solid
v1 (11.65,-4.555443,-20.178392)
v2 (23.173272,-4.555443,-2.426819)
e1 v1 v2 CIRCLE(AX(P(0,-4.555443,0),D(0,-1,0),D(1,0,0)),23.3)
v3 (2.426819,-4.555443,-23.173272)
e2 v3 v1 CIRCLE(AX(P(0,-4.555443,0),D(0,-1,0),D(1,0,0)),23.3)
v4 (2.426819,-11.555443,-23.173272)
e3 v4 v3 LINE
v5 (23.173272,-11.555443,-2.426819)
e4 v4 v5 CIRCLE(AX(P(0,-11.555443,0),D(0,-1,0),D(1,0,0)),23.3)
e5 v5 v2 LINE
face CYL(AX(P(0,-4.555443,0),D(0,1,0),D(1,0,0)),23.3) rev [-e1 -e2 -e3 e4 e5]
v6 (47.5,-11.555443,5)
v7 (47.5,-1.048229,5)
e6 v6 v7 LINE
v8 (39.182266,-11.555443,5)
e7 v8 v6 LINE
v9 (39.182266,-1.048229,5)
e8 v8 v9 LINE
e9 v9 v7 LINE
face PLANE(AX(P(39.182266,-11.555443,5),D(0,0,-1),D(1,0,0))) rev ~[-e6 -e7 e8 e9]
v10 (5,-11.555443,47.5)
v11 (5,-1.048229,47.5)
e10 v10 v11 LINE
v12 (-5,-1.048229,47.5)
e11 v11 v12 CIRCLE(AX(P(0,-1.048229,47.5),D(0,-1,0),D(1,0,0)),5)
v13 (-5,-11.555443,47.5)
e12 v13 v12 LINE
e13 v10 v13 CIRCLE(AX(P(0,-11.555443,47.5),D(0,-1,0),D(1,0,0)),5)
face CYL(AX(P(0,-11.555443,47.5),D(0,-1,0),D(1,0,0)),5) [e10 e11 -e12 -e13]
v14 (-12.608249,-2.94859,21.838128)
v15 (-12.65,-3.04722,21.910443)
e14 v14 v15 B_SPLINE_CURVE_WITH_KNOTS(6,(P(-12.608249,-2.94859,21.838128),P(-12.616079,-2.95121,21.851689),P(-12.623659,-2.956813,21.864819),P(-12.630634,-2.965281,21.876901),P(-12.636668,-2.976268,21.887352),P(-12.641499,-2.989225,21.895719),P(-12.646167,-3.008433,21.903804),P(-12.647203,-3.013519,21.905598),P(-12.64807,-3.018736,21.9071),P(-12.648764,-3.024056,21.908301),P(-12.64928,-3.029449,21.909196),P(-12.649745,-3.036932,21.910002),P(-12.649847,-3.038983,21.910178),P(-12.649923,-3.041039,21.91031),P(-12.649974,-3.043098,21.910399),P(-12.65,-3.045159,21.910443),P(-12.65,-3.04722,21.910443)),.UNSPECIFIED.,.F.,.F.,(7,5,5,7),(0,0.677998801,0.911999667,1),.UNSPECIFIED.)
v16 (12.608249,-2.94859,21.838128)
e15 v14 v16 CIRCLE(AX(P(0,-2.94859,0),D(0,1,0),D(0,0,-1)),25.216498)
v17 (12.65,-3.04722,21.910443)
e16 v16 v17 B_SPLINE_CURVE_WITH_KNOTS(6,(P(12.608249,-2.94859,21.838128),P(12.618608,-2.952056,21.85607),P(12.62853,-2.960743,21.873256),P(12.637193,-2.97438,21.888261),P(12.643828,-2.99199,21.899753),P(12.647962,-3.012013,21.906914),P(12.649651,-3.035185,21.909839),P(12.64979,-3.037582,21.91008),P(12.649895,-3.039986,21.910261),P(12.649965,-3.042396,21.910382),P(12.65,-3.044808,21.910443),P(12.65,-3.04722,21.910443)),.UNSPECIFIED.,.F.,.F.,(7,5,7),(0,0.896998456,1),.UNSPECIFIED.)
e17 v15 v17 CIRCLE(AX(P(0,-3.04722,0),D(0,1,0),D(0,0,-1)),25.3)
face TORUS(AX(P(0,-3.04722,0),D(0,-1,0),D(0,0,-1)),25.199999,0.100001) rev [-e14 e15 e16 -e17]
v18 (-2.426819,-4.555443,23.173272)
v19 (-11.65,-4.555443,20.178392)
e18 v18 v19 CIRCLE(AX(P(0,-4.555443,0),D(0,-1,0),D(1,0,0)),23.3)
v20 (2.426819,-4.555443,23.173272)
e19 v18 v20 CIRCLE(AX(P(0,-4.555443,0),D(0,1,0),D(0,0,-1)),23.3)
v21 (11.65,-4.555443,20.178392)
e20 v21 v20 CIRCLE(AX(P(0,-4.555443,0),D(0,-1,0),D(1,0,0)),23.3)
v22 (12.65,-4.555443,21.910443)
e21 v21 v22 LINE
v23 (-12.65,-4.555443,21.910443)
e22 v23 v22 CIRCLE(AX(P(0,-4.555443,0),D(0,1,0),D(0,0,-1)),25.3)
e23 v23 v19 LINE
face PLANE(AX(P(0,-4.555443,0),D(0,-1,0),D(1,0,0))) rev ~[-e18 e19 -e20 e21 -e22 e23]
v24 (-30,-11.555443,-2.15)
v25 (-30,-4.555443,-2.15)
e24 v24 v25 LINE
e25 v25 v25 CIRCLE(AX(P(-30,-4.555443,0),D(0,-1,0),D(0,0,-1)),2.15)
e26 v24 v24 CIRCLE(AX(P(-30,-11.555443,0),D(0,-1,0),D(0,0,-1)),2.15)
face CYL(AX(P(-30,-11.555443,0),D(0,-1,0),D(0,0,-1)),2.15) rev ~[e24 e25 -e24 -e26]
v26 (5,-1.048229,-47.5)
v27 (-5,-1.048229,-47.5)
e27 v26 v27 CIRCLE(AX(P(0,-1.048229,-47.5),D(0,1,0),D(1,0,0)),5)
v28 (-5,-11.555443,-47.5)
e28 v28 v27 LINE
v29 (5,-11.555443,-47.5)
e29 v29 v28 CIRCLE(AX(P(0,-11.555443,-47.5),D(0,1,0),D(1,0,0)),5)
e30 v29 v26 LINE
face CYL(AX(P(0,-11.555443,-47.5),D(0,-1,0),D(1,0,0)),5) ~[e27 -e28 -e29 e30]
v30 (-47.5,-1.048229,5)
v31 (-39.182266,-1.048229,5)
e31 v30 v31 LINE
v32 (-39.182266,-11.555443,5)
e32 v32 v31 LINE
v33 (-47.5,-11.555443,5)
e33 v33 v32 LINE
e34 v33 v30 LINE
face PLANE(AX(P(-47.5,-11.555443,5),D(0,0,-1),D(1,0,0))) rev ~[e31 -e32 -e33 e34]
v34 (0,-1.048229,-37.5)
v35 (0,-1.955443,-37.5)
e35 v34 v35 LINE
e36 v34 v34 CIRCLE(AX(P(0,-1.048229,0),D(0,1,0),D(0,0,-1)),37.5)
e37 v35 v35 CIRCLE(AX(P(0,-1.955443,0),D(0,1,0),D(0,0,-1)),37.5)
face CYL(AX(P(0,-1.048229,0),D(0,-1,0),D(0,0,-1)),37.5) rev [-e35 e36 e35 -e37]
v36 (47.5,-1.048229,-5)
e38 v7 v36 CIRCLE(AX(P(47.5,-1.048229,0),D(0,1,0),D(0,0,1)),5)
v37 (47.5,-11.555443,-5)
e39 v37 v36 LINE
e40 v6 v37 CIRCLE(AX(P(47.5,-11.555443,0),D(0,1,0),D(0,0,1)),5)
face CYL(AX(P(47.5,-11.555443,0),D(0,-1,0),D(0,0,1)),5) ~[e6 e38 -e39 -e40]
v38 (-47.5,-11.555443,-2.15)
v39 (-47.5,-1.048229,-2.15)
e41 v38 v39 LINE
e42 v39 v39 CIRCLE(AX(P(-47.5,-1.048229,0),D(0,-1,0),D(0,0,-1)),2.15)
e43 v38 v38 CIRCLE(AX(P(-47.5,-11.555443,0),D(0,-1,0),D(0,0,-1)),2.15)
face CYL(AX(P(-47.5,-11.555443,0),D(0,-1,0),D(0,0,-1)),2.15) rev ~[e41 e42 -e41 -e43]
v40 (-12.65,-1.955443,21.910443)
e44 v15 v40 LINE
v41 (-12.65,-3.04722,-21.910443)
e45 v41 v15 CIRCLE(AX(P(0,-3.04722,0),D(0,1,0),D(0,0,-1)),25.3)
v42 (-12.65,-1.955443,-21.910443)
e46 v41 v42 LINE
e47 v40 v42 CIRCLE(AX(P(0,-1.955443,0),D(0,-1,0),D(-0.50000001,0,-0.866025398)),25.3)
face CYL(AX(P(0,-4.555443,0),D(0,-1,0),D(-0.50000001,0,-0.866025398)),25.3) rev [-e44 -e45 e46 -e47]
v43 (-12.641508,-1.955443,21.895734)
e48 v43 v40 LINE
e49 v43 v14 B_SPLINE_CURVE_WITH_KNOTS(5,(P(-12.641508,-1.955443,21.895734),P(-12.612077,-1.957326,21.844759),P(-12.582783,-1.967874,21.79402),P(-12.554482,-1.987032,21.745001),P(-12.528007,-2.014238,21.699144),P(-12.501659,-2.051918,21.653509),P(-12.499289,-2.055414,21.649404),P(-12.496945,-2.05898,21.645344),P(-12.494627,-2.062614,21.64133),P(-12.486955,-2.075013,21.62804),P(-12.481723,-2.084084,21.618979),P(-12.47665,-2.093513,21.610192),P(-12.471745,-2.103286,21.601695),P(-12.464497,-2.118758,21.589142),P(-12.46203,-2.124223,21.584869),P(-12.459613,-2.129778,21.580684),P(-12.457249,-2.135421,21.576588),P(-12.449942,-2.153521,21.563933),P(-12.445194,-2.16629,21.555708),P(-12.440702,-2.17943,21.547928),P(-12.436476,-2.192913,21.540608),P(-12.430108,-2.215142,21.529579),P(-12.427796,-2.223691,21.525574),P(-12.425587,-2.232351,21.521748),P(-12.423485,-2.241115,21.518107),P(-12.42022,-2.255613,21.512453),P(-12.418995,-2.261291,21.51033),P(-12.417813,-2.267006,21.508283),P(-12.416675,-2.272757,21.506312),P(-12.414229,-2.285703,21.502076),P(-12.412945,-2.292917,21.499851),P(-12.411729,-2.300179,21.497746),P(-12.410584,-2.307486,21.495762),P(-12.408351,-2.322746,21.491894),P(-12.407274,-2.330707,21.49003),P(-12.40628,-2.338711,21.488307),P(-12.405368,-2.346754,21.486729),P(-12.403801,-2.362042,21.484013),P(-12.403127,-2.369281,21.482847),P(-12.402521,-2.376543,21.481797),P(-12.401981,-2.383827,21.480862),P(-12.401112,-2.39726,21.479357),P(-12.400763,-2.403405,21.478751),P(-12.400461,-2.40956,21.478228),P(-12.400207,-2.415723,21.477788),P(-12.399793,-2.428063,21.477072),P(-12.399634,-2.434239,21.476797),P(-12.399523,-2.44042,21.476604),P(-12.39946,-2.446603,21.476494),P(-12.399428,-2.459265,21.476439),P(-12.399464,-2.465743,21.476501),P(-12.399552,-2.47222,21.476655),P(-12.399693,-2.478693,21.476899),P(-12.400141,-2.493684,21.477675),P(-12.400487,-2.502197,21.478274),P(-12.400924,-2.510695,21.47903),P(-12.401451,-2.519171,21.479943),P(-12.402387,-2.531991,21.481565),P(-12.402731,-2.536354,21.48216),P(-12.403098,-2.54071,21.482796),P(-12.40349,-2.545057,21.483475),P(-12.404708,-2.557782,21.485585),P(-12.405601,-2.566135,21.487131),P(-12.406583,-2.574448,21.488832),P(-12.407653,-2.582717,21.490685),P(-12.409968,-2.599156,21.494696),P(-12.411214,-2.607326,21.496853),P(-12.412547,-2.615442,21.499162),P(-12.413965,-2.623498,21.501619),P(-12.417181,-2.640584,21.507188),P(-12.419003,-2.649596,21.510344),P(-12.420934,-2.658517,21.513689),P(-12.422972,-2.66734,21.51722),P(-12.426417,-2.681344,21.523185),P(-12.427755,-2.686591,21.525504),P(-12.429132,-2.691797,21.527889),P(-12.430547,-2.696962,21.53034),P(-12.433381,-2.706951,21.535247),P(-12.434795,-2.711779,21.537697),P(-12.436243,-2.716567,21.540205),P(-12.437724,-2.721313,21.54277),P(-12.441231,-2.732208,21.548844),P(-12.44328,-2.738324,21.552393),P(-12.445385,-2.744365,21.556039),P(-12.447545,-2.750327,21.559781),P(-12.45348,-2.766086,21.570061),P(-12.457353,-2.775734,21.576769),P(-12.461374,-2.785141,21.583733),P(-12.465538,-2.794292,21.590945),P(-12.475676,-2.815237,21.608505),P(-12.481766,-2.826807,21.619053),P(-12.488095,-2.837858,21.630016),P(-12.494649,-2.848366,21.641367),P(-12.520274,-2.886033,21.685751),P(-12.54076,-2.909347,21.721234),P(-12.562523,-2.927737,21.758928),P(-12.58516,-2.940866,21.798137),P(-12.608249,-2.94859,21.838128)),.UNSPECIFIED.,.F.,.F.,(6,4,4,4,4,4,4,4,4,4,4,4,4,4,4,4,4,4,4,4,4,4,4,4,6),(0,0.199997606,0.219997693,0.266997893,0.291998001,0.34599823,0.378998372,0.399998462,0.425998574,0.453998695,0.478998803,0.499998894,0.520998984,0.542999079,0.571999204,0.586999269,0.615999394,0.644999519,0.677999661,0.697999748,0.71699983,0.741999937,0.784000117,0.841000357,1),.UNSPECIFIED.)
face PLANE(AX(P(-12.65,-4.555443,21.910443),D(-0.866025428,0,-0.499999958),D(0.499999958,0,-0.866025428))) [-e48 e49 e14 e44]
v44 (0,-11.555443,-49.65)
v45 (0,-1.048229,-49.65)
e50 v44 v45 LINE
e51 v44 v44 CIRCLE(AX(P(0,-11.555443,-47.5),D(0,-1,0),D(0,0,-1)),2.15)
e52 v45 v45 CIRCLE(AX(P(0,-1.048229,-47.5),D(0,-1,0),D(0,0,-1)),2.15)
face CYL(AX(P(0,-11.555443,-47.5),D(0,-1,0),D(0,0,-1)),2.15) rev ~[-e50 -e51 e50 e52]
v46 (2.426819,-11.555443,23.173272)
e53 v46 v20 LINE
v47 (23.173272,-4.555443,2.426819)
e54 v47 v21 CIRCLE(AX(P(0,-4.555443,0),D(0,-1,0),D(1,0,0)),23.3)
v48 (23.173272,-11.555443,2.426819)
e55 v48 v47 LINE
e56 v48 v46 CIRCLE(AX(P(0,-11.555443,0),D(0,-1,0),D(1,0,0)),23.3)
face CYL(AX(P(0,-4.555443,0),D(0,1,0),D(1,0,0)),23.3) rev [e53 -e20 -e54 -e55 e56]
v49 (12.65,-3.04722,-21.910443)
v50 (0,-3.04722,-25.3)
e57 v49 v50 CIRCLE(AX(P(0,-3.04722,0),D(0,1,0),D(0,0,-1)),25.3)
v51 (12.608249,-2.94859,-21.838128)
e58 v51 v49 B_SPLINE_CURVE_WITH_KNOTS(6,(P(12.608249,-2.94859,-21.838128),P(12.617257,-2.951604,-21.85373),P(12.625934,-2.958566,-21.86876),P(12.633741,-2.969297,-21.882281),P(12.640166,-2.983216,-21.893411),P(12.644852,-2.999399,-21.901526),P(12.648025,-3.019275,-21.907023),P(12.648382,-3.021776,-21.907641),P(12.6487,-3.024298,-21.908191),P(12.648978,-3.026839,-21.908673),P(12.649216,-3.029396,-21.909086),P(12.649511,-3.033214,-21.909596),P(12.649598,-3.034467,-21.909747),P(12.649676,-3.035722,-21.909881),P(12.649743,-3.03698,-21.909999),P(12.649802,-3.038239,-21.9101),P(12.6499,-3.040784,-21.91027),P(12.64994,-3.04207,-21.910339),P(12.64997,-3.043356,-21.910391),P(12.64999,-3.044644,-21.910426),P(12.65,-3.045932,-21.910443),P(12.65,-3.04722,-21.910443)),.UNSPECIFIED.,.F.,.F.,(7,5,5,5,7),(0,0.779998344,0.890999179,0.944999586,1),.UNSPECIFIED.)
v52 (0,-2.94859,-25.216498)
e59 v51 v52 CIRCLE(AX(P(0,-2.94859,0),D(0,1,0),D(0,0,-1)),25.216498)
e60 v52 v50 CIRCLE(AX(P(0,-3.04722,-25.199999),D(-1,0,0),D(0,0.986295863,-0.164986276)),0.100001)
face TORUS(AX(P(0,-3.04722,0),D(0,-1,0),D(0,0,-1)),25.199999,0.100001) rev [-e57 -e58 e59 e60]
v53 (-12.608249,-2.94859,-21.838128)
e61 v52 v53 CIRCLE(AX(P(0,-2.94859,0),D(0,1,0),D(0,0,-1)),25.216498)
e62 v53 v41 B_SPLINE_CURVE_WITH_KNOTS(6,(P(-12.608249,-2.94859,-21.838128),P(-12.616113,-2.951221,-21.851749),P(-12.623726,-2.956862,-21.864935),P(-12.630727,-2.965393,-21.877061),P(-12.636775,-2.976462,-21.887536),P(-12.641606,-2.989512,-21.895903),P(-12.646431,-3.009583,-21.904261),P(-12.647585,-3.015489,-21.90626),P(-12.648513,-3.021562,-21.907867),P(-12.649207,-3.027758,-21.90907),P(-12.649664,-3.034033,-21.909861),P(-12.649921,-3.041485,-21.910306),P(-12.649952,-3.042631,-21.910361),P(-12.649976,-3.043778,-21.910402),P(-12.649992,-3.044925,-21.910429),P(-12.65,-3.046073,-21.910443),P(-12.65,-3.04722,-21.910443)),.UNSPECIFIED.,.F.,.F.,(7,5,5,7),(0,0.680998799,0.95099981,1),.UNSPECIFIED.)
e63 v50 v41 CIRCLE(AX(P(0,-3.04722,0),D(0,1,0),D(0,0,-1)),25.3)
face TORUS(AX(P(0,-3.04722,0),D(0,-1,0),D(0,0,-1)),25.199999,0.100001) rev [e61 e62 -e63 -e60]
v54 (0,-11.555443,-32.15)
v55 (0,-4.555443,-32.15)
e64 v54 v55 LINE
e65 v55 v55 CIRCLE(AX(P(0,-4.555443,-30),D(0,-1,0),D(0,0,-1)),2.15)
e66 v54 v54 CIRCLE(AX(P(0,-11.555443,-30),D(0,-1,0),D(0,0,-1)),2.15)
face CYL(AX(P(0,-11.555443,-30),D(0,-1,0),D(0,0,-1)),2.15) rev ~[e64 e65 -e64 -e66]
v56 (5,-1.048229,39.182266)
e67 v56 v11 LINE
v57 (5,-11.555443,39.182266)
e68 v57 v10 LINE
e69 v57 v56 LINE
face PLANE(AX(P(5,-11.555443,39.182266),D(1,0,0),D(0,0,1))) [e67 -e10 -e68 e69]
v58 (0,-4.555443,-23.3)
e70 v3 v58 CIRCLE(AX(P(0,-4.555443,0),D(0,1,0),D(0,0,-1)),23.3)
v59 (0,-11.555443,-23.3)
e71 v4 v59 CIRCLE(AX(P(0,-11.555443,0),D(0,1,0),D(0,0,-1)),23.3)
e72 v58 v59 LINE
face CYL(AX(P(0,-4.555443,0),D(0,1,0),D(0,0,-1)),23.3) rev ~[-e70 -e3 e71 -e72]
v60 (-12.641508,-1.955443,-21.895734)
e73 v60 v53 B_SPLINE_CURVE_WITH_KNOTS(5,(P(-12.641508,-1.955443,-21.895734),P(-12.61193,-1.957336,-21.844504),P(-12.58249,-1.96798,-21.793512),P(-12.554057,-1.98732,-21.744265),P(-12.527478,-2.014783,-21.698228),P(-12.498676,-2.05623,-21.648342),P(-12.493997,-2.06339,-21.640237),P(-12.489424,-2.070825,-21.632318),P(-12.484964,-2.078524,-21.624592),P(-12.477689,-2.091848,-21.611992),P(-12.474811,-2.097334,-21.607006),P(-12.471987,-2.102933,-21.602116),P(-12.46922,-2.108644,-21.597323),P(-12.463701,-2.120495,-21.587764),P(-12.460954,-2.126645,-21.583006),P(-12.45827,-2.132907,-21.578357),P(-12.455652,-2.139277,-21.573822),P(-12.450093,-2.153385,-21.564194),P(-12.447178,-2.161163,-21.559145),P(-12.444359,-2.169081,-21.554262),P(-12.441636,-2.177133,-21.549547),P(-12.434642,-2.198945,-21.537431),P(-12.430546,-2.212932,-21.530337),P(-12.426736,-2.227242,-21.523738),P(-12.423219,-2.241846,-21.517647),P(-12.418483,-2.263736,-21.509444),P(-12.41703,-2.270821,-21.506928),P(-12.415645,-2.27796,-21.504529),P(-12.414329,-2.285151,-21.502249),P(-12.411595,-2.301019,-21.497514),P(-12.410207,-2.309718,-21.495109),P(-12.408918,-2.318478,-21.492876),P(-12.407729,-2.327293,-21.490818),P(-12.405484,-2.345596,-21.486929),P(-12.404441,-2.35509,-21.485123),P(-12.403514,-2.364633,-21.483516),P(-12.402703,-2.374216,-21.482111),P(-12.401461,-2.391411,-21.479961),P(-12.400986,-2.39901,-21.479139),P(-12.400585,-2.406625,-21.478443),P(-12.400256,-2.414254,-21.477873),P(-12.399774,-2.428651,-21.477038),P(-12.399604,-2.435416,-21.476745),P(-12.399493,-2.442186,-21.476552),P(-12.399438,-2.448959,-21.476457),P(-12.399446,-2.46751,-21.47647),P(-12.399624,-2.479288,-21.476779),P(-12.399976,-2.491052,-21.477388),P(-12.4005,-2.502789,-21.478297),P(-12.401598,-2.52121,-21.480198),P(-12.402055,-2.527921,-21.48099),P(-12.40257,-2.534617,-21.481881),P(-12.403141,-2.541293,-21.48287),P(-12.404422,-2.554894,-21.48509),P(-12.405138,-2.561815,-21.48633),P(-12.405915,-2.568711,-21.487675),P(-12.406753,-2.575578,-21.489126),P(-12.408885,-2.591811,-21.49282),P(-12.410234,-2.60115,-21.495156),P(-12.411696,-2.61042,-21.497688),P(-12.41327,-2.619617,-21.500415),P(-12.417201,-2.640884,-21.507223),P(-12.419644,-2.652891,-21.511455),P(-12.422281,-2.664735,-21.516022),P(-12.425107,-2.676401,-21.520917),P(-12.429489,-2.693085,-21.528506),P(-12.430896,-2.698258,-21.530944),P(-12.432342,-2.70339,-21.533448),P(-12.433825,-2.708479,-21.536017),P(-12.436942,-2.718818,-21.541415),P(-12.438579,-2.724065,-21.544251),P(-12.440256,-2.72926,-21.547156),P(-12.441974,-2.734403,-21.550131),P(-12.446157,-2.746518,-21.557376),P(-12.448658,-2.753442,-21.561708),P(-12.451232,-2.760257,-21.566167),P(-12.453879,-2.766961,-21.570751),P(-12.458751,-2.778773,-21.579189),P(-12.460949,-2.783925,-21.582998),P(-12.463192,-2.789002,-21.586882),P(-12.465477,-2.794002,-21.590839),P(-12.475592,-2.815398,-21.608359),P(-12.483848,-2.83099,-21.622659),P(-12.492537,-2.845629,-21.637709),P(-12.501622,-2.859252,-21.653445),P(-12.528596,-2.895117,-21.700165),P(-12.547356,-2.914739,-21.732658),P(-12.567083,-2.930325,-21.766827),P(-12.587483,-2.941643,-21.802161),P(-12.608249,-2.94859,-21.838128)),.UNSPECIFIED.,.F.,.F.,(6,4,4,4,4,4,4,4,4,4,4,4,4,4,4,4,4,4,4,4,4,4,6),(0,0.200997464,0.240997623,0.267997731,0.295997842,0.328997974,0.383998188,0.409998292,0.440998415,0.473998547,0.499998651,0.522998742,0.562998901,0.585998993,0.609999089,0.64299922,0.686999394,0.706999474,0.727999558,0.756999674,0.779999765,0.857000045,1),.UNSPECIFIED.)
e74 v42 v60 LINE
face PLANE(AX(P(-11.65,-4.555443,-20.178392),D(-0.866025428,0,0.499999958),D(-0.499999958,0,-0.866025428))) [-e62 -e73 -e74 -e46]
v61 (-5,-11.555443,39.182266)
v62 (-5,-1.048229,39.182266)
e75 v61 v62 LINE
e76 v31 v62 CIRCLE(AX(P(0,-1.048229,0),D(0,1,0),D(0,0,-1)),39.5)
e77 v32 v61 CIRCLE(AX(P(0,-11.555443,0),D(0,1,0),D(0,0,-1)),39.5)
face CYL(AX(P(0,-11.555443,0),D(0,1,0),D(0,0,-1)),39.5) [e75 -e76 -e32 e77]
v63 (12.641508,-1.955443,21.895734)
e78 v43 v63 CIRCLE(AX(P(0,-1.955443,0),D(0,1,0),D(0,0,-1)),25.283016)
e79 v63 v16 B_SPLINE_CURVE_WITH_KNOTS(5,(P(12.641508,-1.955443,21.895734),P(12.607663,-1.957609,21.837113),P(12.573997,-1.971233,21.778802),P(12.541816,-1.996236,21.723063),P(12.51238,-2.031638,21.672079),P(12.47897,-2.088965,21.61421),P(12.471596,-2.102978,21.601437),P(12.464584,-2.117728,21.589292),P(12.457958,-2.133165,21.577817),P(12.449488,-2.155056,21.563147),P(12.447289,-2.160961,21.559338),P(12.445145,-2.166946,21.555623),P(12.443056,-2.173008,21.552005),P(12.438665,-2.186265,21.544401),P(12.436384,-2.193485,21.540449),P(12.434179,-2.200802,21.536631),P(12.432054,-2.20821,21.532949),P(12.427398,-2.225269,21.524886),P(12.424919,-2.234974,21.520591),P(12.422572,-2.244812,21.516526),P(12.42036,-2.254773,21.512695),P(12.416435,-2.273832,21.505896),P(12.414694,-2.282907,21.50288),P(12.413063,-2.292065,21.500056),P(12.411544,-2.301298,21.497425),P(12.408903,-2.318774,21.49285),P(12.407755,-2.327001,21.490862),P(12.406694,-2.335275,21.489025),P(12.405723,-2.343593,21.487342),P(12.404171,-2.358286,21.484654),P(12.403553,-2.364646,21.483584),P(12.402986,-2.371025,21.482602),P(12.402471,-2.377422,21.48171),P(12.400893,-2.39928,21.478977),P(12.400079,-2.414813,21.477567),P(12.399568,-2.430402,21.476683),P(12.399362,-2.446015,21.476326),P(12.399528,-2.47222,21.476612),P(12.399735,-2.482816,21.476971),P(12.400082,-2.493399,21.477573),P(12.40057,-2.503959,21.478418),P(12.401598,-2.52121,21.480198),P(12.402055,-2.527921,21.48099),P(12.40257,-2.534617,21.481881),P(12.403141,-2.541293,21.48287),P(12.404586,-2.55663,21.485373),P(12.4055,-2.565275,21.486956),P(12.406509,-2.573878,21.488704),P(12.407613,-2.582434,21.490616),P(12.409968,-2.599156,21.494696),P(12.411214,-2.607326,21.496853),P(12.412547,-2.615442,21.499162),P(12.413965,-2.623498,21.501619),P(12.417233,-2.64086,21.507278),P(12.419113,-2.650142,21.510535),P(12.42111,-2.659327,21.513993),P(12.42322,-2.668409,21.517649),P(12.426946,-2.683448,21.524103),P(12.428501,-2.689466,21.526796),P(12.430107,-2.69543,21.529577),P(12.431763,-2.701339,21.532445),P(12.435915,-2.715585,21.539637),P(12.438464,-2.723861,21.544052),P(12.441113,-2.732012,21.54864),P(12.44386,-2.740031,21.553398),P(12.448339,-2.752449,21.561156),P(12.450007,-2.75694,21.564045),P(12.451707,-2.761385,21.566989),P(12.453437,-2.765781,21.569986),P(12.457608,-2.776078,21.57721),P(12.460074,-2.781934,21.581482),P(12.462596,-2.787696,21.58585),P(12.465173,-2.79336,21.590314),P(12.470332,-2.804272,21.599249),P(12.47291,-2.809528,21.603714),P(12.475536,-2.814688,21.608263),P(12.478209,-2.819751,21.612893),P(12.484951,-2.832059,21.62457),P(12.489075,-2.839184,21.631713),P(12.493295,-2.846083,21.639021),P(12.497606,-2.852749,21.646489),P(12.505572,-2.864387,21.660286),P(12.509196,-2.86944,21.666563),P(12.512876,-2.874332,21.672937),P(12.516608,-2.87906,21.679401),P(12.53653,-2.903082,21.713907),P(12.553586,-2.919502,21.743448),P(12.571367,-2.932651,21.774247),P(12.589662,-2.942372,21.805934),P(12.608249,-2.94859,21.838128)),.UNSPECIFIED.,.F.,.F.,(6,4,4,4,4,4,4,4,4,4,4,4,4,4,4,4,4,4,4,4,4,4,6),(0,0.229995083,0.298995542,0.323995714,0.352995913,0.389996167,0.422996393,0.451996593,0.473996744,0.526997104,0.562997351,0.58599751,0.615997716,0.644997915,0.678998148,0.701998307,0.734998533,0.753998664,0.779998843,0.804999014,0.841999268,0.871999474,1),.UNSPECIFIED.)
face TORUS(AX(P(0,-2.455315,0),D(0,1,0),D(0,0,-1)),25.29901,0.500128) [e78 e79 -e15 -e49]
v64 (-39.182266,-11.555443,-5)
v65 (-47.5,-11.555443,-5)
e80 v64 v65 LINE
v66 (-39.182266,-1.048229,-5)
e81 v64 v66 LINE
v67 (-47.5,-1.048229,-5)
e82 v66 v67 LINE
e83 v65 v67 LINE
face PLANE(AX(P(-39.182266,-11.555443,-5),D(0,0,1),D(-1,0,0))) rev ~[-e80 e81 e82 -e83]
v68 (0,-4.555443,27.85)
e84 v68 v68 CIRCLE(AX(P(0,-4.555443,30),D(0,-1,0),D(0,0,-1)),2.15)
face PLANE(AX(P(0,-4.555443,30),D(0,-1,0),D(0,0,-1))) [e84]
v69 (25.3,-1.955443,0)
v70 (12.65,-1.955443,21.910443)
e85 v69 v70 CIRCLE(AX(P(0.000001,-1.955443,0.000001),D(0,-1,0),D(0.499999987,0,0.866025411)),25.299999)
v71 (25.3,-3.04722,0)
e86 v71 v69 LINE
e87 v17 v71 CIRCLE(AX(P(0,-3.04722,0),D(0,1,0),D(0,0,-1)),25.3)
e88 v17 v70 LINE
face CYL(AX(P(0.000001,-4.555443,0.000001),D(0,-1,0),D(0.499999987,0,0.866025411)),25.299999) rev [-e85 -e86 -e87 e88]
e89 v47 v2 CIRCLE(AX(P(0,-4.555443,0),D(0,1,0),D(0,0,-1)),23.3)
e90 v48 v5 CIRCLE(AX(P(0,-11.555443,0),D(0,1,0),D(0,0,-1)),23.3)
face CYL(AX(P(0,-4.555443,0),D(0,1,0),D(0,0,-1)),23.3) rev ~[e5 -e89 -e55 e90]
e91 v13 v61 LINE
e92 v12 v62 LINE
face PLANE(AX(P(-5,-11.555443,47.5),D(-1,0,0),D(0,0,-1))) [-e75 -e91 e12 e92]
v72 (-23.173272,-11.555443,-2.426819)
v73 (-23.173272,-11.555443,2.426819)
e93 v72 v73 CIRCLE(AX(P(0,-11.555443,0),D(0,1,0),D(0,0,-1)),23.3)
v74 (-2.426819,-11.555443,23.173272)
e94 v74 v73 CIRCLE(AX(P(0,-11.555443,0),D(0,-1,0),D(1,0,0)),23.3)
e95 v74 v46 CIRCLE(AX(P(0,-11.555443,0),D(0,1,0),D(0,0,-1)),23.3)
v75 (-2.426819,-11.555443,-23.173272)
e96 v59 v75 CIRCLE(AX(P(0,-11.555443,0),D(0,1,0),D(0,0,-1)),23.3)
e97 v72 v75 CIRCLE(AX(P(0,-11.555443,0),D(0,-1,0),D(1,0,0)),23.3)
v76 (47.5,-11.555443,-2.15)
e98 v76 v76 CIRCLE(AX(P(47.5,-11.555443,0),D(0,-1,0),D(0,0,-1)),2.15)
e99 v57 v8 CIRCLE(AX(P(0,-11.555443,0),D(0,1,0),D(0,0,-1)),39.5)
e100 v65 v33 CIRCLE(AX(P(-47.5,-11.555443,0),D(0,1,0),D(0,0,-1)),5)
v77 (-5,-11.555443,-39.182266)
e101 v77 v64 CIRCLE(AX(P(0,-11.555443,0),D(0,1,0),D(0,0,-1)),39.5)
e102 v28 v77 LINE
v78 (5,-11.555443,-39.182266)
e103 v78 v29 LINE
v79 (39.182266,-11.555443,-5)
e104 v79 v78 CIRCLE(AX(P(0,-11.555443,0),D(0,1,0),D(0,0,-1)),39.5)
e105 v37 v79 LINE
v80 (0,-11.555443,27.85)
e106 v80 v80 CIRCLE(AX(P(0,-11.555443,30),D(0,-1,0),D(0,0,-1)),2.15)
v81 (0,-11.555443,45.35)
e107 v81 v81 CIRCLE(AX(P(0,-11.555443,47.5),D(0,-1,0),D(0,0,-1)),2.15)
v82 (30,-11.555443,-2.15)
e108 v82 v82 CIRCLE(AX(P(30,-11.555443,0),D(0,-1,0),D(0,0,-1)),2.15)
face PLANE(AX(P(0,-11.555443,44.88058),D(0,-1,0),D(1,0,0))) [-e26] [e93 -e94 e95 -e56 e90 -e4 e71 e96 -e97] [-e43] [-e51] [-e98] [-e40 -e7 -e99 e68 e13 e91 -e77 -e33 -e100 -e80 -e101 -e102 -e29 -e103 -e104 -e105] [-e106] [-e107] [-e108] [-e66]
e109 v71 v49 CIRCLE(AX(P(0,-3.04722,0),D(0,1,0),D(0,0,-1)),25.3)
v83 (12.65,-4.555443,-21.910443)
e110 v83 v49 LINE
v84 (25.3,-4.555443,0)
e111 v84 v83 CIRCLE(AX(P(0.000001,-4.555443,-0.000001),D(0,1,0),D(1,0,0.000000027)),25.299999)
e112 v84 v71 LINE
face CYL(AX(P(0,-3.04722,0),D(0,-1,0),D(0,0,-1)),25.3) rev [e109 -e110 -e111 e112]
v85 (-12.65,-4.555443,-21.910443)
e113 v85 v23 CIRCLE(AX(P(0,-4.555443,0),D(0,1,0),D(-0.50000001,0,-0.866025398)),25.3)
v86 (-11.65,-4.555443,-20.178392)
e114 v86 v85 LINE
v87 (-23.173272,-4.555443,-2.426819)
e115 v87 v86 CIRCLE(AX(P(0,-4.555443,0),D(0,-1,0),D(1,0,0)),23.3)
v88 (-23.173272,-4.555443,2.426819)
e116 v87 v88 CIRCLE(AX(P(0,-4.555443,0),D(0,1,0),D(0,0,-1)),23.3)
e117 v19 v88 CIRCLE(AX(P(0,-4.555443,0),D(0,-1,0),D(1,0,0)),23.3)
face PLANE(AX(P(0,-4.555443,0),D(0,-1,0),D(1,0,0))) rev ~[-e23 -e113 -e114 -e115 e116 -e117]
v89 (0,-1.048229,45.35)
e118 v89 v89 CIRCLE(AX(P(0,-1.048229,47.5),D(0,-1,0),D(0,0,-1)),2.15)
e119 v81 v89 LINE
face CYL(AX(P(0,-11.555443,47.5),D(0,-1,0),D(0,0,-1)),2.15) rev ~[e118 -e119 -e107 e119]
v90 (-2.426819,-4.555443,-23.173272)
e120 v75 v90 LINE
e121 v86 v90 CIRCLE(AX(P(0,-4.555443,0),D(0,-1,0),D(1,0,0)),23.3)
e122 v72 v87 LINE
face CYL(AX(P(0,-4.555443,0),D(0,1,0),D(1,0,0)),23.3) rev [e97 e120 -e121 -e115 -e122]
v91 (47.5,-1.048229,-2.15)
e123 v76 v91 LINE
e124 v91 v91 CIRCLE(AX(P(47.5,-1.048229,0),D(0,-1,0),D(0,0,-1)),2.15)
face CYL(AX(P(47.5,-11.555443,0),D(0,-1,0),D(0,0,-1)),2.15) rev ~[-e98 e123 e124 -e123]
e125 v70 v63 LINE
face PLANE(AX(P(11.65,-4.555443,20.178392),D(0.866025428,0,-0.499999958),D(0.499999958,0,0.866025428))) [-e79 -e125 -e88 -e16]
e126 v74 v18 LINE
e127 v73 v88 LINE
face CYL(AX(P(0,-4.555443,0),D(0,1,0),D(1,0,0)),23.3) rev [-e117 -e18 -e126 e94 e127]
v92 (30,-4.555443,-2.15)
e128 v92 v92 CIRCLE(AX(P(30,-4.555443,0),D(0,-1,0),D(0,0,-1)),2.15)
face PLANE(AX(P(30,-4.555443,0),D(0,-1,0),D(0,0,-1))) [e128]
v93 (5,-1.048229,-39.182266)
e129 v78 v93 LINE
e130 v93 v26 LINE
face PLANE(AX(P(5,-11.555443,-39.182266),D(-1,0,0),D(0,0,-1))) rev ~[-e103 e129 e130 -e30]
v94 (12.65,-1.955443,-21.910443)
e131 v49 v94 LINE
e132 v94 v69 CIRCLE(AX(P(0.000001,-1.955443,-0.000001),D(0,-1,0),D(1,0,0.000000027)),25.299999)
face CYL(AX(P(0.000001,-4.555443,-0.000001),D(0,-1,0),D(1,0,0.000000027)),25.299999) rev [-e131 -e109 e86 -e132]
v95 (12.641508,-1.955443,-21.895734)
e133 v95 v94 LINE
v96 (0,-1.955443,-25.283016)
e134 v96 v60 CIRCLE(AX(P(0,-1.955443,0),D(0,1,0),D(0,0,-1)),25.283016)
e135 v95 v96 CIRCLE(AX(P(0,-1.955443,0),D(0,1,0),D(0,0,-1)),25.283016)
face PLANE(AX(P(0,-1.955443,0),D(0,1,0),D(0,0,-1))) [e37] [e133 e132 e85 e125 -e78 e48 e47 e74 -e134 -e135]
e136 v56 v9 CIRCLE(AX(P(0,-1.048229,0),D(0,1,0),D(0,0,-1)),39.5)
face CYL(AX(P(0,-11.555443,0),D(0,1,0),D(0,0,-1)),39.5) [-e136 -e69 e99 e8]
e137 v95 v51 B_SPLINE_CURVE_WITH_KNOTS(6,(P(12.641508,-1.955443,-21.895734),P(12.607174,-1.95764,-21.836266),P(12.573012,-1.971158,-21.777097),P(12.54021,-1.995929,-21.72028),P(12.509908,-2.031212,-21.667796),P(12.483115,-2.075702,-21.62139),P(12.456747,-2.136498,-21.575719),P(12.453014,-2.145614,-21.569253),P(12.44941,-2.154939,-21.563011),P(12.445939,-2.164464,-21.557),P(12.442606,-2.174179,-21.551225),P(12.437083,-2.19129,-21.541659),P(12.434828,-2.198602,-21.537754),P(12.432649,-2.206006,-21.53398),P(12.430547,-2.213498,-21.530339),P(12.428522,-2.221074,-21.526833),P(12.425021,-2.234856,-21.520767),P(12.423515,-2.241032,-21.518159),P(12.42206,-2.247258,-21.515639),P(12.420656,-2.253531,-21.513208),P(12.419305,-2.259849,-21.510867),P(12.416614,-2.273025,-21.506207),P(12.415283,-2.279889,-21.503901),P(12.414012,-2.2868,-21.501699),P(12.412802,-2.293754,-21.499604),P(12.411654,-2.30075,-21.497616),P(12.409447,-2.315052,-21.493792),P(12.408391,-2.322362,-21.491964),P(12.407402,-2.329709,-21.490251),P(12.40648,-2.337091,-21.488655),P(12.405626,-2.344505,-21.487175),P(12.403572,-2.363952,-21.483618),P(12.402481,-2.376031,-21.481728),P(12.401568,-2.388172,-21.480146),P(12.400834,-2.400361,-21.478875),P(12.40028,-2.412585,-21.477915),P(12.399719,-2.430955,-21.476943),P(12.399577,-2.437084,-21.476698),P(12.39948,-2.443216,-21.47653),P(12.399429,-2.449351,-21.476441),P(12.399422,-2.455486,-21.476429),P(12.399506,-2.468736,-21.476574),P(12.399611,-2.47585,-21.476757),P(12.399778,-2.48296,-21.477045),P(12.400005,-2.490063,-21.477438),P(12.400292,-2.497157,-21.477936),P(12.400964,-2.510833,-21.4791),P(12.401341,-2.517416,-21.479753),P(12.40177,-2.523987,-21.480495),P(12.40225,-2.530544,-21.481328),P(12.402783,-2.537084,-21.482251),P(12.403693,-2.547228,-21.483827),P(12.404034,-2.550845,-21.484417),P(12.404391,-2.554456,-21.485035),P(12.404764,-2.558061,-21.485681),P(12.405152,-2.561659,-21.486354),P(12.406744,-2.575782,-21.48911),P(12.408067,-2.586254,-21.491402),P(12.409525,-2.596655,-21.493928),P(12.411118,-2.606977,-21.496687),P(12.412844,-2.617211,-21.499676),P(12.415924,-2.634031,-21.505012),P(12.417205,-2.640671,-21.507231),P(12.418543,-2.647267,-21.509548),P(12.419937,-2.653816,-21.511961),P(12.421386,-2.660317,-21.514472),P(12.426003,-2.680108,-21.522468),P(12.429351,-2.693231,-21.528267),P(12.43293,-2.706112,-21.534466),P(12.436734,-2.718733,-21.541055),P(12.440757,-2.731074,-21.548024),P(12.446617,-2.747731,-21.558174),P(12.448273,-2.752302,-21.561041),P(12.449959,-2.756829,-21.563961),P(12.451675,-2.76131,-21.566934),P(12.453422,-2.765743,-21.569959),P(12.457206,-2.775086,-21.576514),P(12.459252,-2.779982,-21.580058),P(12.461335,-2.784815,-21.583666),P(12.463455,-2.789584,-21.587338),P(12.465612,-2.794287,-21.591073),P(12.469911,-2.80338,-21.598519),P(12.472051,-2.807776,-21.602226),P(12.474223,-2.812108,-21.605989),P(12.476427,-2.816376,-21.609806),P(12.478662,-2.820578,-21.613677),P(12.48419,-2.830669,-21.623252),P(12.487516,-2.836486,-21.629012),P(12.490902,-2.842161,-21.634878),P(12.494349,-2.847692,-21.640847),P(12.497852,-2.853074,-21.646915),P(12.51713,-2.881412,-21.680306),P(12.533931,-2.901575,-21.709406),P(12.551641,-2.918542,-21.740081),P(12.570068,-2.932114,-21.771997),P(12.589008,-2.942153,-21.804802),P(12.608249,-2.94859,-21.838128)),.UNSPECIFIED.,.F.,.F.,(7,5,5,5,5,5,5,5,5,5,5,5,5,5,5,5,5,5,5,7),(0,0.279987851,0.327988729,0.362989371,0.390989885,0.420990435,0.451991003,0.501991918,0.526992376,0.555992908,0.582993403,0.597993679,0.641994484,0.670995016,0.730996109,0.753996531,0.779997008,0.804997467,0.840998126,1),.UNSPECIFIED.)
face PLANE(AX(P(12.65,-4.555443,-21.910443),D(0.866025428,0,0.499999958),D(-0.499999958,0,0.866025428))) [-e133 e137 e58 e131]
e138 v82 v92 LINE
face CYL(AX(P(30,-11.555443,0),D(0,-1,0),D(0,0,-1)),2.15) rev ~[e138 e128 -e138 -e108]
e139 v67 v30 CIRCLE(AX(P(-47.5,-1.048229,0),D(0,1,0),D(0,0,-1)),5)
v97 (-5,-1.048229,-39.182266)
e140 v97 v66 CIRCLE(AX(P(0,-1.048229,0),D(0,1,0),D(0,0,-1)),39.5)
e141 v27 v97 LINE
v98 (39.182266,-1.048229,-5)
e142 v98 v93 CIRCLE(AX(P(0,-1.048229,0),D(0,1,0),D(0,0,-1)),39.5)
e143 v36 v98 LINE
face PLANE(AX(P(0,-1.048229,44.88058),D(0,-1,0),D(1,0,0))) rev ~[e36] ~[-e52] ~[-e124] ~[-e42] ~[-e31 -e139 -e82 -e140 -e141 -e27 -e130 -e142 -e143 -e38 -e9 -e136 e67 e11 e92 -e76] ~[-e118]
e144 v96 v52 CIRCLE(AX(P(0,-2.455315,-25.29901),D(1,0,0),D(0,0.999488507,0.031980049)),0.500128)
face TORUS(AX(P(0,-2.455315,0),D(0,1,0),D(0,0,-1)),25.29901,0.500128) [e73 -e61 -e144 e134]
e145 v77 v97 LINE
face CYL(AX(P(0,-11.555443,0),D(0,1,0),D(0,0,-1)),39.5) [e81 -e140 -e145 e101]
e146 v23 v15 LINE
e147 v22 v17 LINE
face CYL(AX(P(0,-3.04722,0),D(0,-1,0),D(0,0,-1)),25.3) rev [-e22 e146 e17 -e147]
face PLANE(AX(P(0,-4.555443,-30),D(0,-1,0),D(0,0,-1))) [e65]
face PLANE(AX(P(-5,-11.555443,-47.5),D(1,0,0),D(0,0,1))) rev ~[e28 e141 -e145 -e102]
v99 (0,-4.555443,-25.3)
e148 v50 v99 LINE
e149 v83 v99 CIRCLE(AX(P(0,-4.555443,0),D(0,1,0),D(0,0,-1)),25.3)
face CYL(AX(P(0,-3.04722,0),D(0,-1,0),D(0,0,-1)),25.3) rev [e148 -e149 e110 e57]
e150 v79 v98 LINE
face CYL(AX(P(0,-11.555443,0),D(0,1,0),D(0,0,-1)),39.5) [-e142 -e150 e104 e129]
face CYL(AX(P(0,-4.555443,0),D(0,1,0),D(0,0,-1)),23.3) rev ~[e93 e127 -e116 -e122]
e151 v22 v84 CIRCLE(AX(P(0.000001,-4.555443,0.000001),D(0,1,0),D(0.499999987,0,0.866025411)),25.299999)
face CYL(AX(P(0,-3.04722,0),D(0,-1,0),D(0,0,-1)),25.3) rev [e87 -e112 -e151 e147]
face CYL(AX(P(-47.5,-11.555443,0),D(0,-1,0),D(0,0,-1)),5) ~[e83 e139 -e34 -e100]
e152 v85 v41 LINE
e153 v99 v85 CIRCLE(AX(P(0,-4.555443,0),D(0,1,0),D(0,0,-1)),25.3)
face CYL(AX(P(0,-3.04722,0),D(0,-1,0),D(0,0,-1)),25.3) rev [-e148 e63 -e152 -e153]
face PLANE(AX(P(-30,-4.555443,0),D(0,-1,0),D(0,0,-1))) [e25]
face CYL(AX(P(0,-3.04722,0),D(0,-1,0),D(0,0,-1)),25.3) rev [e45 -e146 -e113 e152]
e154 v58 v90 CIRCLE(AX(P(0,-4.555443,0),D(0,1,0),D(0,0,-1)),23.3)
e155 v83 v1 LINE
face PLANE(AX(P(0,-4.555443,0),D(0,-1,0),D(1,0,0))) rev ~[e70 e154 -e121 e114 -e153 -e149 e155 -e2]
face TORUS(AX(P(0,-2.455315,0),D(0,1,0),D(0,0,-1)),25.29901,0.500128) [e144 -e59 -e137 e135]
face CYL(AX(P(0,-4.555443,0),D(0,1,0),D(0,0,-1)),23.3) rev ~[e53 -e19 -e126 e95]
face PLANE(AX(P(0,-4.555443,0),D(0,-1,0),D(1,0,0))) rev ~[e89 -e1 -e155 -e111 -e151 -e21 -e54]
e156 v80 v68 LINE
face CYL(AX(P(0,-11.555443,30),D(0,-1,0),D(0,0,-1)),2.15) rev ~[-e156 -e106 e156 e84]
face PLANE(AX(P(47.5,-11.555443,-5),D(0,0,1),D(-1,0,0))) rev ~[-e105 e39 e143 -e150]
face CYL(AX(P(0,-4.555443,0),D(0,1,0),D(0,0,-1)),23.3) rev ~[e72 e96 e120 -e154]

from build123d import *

# Parameters (mm, degrees)
SKETCH2_R           = 2.15
BOSS_EXTRUDE1_DEPTH = 10.507214
CUT_EXTRUDE2_REACH  = 76.575
SKETCH4_R           = 2.15
CUT_EXTRUDE3_DEPTH  = 7
BOSS_EXTRUDE2_START = -7
SKETCH5_R           = 24.3
SKETCH5_R_2         = 23.3
BOSS_EXTRUDE2_DEPTH = 7
SKETCH6_R           = 23.3
CUT_EXTRUDE4_DEPTH  = 75.575465
CUT_EXTRUDE5_DEPTH  = 75.575465


with BuildPart() as part:
    # Sketch1 → Revolve1 (revolve)
    with BuildSketch(Plane(origin=(0, 0, 0), x_dir=(0, 0, -1), z_dir=(1, 0, 0)), mode=Mode.PRIVATE) as revolve1_sk:
        with BuildLine():
            Line((-37.5, -1.048229), (-37.5, -1.955443))
            Line((-37.5, -1.955443), (-25.283016, -1.955443))
            ThreePointArc((-25.283016, -1.955443), (-24.8, -2.421893), (-25.216498, -2.94859))
            ThreePointArc((-25.216498, -2.94859), (-25.276321, -2.982605), (-25.3, -3.04722))
            Line((-25.3, -3.04722), (-25.3, -4.555443))
            Line((-25.3, -4.555443), (-8, -4.555443))
            Line((-8, -4.555443), (-8, -11.555443))
            Line((-8, -11.555443), (-39.5, -11.555443))
            Line((-39.5, -11.555443), (-39.5, -1.048229))
            Line((-39.5, -1.048229), (-37.5, -1.048229))
        make_face()
    revolve(revolve1_sk.sketch.rotate(Axis((0, -1000, 0), (0, 1, 0)), 180), axis=Axis((0, -1000, 0), (0, 1, 0)))

    # Sketch2 → Boss-Extrude1 (add)
    # profile 1 of 4: a face of its own
    with BuildSketch(Plane.XZ.offset(11.555443)):
        with BuildLine():
            Line((-5, 47.5), (-5, 39.182266))
            Line((-5, 39.182266), (5, 39.182266))
            Line((5, 39.182266), (5, 47.5))
            ThreePointArc((5, 47.5), (0, 52.5), (-5, 47.5))
        make_face()
        with Locations(Location((0, 47.5, 0), (0, 0, 270))):
            Circle(SKETCH2_R, mode=Mode.SUBTRACT)
    # profile 2 of 4: a face of its own
    with BuildSketch(Plane.XZ.offset(11.555443)):
        with BuildLine():
            Line((47.5, -5), (39.182266, -5))
            Line((39.182266, -5), (39.182266, 5))
            Line((39.182266, 5), (47.5, 5))
            ThreePointArc((47.5, 5), (52.5, 0), (47.5, -5))
        make_face()
        with Locations(Location((47.5, 0, 0), (0, 0, 270))):
            Circle(SKETCH2_R, mode=Mode.SUBTRACT)
    # profile 3 of 4: a face of its own
    with BuildSketch(Plane.XZ.offset(11.555443)):
        with BuildLine():
            Line((-5, -47.5), (-5, -39.182266))
            Line((-5, -39.182266), (5, -39.182266))
            Line((5, -39.182266), (5, -47.5))
            ThreePointArc((5, -47.5), (0, -52.5), (-5, -47.5))
        make_face()
        with Locations(Location((0, -47.5, 0), (0, 0, 270))):
            Circle(SKETCH2_R, mode=Mode.SUBTRACT)
    # profile 4 of 4: a face of its own
    with BuildSketch(Plane.XZ.offset(11.555443)):
        with BuildLine():
            Line((-47.5, 5), (-39.182266, 5))
            Line((-39.182266, 5), (-39.182266, -5))
            Line((-39.182266, -5), (-47.5, -5))
            ThreePointArc((-47.5, -5), (-52.5, 0), (-47.5, 5))
        make_face()
        with Locations(Location((-47.5, 0, 0), (0, 0, 270))):
            Circle(SKETCH2_R, mode=Mode.SUBTRACT)
    extrude(amount=-BOSS_EXTRUDE1_DEPTH)

    # Sketch3 → Cut-Extrude2 (cut, up to next)
    with BuildSketch(Plane(origin=(0, -4.555443, 0), x_dir=(1, 0, 0), z_dir=(0, 1, 0)), mode=Mode.PRIVATE) as cut_extrude2_sk1:
        with BuildLine():
            Line((21.938323, -2), (12.369317, -2))
            ThreePointArc((12.369317, -2), (11.19262, -2.382785), (10.466345, -3.384615))
            ThreePointArc((10.466345, -3.384615), (7.778175, -7.778175), (3.384615, -10.466345))
            ThreePointArc((3.384615, -10.466345), (2.382785, -11.19262), (2, -12.369317))
            Line((2, -12.369317), (2, -21.938323))
            ThreePointArc((2, -21.938323), (2.718885, -23.474143), (4.358744, -23.905885))
            ThreePointArc((4.358744, -23.905885), (17.182695, -17.182695), (23.905885, -4.358744))
            ThreePointArc((23.905885, -4.358744), (23.474143, -2.718885), (21.938323, -2))
        make_face()
    cut_extrude2_tool1 = extrude(cut_extrude2_sk1.sketch, amount=-CUT_EXTRUDE2_REACH, mode=Mode.PRIVATE) & part.part
    # Sketch3 → Cut-Extrude2 (cut, up to next)
    with BuildSketch(Plane(origin=(0, -4.555443, 0), x_dir=(1, 0, 0), z_dir=(0, 1, 0)), mode=Mode.PRIVATE) as cut_extrude2_sk2:
        with BuildLine():
            Line((-2, -21.938323), (-2, -12.369317))
            ThreePointArc((-2, -12.369317), (-2.382785, -11.19262), (-3.384615, -10.466345))
            ThreePointArc((-3.384615, -10.466345), (-7.778175, -7.778175), (-10.466345, -3.384615))
            ThreePointArc((-10.466345, -3.384615), (-11.19262, -2.382785), (-12.369317, -2))
            Line((-12.369317, -2), (-21.938323, -2))
            ThreePointArc((-21.938323, -2), (-23.474143, -2.718885), (-23.905885, -4.358744))
            ThreePointArc((-23.905885, -4.358744), (-17.182695, -17.182695), (-4.358744, -23.905885))
            ThreePointArc((-4.358744, -23.905885), (-2.718885, -23.474143), (-2, -21.938323))
        make_face()
    cut_extrude2_tool2 = extrude(cut_extrude2_sk2.sketch, amount=-CUT_EXTRUDE2_REACH, mode=Mode.PRIVATE) & part.part
    # Sketch3 → Cut-Extrude2 (cut, up to next)
    with BuildSketch(Plane(origin=(0, -4.555443, 0), x_dir=(1, 0, 0), z_dir=(0, 1, 0)), mode=Mode.PRIVATE) as cut_extrude2_sk3:
        with BuildLine():
            Line((-21.938323, 2), (-12.369317, 2))
            ThreePointArc((-12.369317, 2), (-11.19262, 2.382785), (-10.466345, 3.384615))
            ThreePointArc((-10.466345, 3.384615), (-7.778175, 7.778175), (-3.384615, 10.466345))
            ThreePointArc((-3.384615, 10.466345), (-2.382785, 11.19262), (-2, 12.369317))
            Line((-2, 12.369317), (-2, 21.938323))
            ThreePointArc((-2, 21.938323), (-2.718885, 23.474143), (-4.358744, 23.905885))
            ThreePointArc((-4.358744, 23.905885), (-17.182695, 17.182695), (-23.905885, 4.358744))
            ThreePointArc((-23.905885, 4.358744), (-23.474143, 2.718885), (-21.938323, 2))
        make_face()
    cut_extrude2_tool3 = extrude(cut_extrude2_sk3.sketch, amount=-CUT_EXTRUDE2_REACH, mode=Mode.PRIVATE) & part.part
    # Sketch3 → Cut-Extrude2 (cut, up to next)
    with BuildSketch(Plane(origin=(0, -4.555443, 0), x_dir=(1, 0, 0), z_dir=(0, 1, 0)), mode=Mode.PRIVATE) as cut_extrude2_sk4:
        with BuildLine():
            Line((2, 21.938323), (2, 12.369317))
            ThreePointArc((2, 12.369317), (2.382785, 11.19262), (3.384615, 10.466345))
            ThreePointArc((3.384615, 10.466345), (7.778175, 7.778175), (10.466345, 3.384615))
            ThreePointArc((10.466345, 3.384615), (11.19262, 2.382785), (12.369317, 2))
            Line((12.369317, 2), (21.938323, 2))
            ThreePointArc((21.938323, 2), (23.474143, 2.718885), (23.905885, 4.358744))
            ThreePointArc((23.905885, 4.358744), (17.182695, 17.182695), (4.358744, 23.905885))
            ThreePointArc((4.358744, 23.905885), (2.718885, 23.474143), (2, 21.938323))
        make_face()
    cut_extrude2_tool4 = extrude(cut_extrude2_sk4.sketch, amount=-CUT_EXTRUDE2_REACH, mode=Mode.PRIVATE) & part.part
    add(cut_extrude2_tool1.solids().sort_by_distance((12.193258, -4.555443, 12.193258))[0], mode=Mode.SUBTRACT)
    add(cut_extrude2_tool2.solids().sort_by_distance((-12.193258, -4.555443, 12.193258))[0], mode=Mode.SUBTRACT)
    add(cut_extrude2_tool3.solids().sort_by_distance((-12.193258, -4.555443, -12.193258))[0], mode=Mode.SUBTRACT)
    add(cut_extrude2_tool4.solids().sort_by_distance((12.193258, -4.555443, -12.193258))[0], mode=Mode.SUBTRACT)

    # Sketch4 → Cut-Extrude3 (cut)
    with BuildSketch(Plane(origin=(0, -11.555443, 0), x_dir=(-1, 0, 0), z_dir=(0, -1, 0))):
        with Locations(Location((30, 0, 0), (0, 0, 90))):
            Circle(SKETCH4_R)
        with Locations(Location((0, -30, 0), (0, 0, 90))):
            Circle(SKETCH4_R)
        with Locations(Location((-30, 0, 0), (0, 0, 90))):
            Circle(SKETCH4_R)
        with Locations(Location((0, 30, 0), (0, 0, 90))):
            Circle(SKETCH4_R)
    extrude(amount=-CUT_EXTRUDE3_DEPTH, mode=Mode.SUBTRACT)

    # Sketch5 → Boss-Extrude2 (add)
    with BuildSketch(Plane.XZ.offset(11.555443).offset(BOSS_EXTRUDE2_START)):
        Circle(SKETCH5_R)
        Circle(SKETCH5_R_2, mode=Mode.SUBTRACT)
    extrude(amount=BOSS_EXTRUDE2_DEPTH)

    # Sketch6 → Cut-Extrude4 (cut, through all)
    with BuildSketch(Plane(origin=(0, -4.555443, 0), x_dir=(1, 0, 0), z_dir=(0, 1, 0))):
        with Locations(Location((0, 0, 0), (0, 0, 90))):
            Circle(SKETCH6_R)
    extrude(amount=-CUT_EXTRUDE4_DEPTH, mode=Mode.SUBTRACT)

    # Sketch7 → Cut-Extrude5 (cut, through all)
    with BuildSketch(Plane(origin=(0, -4.555443, 0), x_dir=(1, 0, 0), z_dir=(0, 1, 0))):
        with BuildLine():
            Line((11.65, 20.178392), (0, 0))
            Line((0, 0), (11.65, -20.178392))
            ThreePointArc((11.65, -20.178392), (20.178392, -11.65), (23.3, 0))
            ThreePointArc((23.3, 0), (20.178392, 11.65), (11.65, 20.178392))
        make_face()
        with BuildLine():
            Line((-11.65, -20.178392), (0, 0))
            Line((0, 0), (-11.65, 20.178392))
            ThreePointArc((-11.65, 20.178392), (-23.3, 0), (-11.65, -20.178392))
        make_face()
        with BuildLine():
            ThreePointArc((23.3, 0), (20.178392, -11.65), (11.65, -20.178392))
            Line((11.65, -20.178392), (12.65, -21.910443))
            ThreePointArc((12.65, -21.910443), (21.910443, -12.65), (25.3, 0))
            ThreePointArc((25.3, 0), (21.910443, 12.65), (12.65, 21.910443))
            Line((12.65, 21.910443), (11.65, 20.178392))
            ThreePointArc((11.65, 20.178392), (20.178392, 11.65), (23.3, 0))
        make_face()
        with BuildLine():
            Line((-12.65, -21.910443), (-11.65, -20.178392))
            ThreePointArc((-11.65, -20.178392), (-23.3, 0), (-11.65, 20.178392))
            Line((-11.65, 20.178392), (-12.65, 21.910443))
            ThreePointArc((-12.65, 21.910443), (-25.3, 0), (-12.65, -21.910443))
        make_face()
    extrude(amount=CUT_EXTRUDE5_DEPTH, mode=Mode.SUBTRACT)


solid = part.part
